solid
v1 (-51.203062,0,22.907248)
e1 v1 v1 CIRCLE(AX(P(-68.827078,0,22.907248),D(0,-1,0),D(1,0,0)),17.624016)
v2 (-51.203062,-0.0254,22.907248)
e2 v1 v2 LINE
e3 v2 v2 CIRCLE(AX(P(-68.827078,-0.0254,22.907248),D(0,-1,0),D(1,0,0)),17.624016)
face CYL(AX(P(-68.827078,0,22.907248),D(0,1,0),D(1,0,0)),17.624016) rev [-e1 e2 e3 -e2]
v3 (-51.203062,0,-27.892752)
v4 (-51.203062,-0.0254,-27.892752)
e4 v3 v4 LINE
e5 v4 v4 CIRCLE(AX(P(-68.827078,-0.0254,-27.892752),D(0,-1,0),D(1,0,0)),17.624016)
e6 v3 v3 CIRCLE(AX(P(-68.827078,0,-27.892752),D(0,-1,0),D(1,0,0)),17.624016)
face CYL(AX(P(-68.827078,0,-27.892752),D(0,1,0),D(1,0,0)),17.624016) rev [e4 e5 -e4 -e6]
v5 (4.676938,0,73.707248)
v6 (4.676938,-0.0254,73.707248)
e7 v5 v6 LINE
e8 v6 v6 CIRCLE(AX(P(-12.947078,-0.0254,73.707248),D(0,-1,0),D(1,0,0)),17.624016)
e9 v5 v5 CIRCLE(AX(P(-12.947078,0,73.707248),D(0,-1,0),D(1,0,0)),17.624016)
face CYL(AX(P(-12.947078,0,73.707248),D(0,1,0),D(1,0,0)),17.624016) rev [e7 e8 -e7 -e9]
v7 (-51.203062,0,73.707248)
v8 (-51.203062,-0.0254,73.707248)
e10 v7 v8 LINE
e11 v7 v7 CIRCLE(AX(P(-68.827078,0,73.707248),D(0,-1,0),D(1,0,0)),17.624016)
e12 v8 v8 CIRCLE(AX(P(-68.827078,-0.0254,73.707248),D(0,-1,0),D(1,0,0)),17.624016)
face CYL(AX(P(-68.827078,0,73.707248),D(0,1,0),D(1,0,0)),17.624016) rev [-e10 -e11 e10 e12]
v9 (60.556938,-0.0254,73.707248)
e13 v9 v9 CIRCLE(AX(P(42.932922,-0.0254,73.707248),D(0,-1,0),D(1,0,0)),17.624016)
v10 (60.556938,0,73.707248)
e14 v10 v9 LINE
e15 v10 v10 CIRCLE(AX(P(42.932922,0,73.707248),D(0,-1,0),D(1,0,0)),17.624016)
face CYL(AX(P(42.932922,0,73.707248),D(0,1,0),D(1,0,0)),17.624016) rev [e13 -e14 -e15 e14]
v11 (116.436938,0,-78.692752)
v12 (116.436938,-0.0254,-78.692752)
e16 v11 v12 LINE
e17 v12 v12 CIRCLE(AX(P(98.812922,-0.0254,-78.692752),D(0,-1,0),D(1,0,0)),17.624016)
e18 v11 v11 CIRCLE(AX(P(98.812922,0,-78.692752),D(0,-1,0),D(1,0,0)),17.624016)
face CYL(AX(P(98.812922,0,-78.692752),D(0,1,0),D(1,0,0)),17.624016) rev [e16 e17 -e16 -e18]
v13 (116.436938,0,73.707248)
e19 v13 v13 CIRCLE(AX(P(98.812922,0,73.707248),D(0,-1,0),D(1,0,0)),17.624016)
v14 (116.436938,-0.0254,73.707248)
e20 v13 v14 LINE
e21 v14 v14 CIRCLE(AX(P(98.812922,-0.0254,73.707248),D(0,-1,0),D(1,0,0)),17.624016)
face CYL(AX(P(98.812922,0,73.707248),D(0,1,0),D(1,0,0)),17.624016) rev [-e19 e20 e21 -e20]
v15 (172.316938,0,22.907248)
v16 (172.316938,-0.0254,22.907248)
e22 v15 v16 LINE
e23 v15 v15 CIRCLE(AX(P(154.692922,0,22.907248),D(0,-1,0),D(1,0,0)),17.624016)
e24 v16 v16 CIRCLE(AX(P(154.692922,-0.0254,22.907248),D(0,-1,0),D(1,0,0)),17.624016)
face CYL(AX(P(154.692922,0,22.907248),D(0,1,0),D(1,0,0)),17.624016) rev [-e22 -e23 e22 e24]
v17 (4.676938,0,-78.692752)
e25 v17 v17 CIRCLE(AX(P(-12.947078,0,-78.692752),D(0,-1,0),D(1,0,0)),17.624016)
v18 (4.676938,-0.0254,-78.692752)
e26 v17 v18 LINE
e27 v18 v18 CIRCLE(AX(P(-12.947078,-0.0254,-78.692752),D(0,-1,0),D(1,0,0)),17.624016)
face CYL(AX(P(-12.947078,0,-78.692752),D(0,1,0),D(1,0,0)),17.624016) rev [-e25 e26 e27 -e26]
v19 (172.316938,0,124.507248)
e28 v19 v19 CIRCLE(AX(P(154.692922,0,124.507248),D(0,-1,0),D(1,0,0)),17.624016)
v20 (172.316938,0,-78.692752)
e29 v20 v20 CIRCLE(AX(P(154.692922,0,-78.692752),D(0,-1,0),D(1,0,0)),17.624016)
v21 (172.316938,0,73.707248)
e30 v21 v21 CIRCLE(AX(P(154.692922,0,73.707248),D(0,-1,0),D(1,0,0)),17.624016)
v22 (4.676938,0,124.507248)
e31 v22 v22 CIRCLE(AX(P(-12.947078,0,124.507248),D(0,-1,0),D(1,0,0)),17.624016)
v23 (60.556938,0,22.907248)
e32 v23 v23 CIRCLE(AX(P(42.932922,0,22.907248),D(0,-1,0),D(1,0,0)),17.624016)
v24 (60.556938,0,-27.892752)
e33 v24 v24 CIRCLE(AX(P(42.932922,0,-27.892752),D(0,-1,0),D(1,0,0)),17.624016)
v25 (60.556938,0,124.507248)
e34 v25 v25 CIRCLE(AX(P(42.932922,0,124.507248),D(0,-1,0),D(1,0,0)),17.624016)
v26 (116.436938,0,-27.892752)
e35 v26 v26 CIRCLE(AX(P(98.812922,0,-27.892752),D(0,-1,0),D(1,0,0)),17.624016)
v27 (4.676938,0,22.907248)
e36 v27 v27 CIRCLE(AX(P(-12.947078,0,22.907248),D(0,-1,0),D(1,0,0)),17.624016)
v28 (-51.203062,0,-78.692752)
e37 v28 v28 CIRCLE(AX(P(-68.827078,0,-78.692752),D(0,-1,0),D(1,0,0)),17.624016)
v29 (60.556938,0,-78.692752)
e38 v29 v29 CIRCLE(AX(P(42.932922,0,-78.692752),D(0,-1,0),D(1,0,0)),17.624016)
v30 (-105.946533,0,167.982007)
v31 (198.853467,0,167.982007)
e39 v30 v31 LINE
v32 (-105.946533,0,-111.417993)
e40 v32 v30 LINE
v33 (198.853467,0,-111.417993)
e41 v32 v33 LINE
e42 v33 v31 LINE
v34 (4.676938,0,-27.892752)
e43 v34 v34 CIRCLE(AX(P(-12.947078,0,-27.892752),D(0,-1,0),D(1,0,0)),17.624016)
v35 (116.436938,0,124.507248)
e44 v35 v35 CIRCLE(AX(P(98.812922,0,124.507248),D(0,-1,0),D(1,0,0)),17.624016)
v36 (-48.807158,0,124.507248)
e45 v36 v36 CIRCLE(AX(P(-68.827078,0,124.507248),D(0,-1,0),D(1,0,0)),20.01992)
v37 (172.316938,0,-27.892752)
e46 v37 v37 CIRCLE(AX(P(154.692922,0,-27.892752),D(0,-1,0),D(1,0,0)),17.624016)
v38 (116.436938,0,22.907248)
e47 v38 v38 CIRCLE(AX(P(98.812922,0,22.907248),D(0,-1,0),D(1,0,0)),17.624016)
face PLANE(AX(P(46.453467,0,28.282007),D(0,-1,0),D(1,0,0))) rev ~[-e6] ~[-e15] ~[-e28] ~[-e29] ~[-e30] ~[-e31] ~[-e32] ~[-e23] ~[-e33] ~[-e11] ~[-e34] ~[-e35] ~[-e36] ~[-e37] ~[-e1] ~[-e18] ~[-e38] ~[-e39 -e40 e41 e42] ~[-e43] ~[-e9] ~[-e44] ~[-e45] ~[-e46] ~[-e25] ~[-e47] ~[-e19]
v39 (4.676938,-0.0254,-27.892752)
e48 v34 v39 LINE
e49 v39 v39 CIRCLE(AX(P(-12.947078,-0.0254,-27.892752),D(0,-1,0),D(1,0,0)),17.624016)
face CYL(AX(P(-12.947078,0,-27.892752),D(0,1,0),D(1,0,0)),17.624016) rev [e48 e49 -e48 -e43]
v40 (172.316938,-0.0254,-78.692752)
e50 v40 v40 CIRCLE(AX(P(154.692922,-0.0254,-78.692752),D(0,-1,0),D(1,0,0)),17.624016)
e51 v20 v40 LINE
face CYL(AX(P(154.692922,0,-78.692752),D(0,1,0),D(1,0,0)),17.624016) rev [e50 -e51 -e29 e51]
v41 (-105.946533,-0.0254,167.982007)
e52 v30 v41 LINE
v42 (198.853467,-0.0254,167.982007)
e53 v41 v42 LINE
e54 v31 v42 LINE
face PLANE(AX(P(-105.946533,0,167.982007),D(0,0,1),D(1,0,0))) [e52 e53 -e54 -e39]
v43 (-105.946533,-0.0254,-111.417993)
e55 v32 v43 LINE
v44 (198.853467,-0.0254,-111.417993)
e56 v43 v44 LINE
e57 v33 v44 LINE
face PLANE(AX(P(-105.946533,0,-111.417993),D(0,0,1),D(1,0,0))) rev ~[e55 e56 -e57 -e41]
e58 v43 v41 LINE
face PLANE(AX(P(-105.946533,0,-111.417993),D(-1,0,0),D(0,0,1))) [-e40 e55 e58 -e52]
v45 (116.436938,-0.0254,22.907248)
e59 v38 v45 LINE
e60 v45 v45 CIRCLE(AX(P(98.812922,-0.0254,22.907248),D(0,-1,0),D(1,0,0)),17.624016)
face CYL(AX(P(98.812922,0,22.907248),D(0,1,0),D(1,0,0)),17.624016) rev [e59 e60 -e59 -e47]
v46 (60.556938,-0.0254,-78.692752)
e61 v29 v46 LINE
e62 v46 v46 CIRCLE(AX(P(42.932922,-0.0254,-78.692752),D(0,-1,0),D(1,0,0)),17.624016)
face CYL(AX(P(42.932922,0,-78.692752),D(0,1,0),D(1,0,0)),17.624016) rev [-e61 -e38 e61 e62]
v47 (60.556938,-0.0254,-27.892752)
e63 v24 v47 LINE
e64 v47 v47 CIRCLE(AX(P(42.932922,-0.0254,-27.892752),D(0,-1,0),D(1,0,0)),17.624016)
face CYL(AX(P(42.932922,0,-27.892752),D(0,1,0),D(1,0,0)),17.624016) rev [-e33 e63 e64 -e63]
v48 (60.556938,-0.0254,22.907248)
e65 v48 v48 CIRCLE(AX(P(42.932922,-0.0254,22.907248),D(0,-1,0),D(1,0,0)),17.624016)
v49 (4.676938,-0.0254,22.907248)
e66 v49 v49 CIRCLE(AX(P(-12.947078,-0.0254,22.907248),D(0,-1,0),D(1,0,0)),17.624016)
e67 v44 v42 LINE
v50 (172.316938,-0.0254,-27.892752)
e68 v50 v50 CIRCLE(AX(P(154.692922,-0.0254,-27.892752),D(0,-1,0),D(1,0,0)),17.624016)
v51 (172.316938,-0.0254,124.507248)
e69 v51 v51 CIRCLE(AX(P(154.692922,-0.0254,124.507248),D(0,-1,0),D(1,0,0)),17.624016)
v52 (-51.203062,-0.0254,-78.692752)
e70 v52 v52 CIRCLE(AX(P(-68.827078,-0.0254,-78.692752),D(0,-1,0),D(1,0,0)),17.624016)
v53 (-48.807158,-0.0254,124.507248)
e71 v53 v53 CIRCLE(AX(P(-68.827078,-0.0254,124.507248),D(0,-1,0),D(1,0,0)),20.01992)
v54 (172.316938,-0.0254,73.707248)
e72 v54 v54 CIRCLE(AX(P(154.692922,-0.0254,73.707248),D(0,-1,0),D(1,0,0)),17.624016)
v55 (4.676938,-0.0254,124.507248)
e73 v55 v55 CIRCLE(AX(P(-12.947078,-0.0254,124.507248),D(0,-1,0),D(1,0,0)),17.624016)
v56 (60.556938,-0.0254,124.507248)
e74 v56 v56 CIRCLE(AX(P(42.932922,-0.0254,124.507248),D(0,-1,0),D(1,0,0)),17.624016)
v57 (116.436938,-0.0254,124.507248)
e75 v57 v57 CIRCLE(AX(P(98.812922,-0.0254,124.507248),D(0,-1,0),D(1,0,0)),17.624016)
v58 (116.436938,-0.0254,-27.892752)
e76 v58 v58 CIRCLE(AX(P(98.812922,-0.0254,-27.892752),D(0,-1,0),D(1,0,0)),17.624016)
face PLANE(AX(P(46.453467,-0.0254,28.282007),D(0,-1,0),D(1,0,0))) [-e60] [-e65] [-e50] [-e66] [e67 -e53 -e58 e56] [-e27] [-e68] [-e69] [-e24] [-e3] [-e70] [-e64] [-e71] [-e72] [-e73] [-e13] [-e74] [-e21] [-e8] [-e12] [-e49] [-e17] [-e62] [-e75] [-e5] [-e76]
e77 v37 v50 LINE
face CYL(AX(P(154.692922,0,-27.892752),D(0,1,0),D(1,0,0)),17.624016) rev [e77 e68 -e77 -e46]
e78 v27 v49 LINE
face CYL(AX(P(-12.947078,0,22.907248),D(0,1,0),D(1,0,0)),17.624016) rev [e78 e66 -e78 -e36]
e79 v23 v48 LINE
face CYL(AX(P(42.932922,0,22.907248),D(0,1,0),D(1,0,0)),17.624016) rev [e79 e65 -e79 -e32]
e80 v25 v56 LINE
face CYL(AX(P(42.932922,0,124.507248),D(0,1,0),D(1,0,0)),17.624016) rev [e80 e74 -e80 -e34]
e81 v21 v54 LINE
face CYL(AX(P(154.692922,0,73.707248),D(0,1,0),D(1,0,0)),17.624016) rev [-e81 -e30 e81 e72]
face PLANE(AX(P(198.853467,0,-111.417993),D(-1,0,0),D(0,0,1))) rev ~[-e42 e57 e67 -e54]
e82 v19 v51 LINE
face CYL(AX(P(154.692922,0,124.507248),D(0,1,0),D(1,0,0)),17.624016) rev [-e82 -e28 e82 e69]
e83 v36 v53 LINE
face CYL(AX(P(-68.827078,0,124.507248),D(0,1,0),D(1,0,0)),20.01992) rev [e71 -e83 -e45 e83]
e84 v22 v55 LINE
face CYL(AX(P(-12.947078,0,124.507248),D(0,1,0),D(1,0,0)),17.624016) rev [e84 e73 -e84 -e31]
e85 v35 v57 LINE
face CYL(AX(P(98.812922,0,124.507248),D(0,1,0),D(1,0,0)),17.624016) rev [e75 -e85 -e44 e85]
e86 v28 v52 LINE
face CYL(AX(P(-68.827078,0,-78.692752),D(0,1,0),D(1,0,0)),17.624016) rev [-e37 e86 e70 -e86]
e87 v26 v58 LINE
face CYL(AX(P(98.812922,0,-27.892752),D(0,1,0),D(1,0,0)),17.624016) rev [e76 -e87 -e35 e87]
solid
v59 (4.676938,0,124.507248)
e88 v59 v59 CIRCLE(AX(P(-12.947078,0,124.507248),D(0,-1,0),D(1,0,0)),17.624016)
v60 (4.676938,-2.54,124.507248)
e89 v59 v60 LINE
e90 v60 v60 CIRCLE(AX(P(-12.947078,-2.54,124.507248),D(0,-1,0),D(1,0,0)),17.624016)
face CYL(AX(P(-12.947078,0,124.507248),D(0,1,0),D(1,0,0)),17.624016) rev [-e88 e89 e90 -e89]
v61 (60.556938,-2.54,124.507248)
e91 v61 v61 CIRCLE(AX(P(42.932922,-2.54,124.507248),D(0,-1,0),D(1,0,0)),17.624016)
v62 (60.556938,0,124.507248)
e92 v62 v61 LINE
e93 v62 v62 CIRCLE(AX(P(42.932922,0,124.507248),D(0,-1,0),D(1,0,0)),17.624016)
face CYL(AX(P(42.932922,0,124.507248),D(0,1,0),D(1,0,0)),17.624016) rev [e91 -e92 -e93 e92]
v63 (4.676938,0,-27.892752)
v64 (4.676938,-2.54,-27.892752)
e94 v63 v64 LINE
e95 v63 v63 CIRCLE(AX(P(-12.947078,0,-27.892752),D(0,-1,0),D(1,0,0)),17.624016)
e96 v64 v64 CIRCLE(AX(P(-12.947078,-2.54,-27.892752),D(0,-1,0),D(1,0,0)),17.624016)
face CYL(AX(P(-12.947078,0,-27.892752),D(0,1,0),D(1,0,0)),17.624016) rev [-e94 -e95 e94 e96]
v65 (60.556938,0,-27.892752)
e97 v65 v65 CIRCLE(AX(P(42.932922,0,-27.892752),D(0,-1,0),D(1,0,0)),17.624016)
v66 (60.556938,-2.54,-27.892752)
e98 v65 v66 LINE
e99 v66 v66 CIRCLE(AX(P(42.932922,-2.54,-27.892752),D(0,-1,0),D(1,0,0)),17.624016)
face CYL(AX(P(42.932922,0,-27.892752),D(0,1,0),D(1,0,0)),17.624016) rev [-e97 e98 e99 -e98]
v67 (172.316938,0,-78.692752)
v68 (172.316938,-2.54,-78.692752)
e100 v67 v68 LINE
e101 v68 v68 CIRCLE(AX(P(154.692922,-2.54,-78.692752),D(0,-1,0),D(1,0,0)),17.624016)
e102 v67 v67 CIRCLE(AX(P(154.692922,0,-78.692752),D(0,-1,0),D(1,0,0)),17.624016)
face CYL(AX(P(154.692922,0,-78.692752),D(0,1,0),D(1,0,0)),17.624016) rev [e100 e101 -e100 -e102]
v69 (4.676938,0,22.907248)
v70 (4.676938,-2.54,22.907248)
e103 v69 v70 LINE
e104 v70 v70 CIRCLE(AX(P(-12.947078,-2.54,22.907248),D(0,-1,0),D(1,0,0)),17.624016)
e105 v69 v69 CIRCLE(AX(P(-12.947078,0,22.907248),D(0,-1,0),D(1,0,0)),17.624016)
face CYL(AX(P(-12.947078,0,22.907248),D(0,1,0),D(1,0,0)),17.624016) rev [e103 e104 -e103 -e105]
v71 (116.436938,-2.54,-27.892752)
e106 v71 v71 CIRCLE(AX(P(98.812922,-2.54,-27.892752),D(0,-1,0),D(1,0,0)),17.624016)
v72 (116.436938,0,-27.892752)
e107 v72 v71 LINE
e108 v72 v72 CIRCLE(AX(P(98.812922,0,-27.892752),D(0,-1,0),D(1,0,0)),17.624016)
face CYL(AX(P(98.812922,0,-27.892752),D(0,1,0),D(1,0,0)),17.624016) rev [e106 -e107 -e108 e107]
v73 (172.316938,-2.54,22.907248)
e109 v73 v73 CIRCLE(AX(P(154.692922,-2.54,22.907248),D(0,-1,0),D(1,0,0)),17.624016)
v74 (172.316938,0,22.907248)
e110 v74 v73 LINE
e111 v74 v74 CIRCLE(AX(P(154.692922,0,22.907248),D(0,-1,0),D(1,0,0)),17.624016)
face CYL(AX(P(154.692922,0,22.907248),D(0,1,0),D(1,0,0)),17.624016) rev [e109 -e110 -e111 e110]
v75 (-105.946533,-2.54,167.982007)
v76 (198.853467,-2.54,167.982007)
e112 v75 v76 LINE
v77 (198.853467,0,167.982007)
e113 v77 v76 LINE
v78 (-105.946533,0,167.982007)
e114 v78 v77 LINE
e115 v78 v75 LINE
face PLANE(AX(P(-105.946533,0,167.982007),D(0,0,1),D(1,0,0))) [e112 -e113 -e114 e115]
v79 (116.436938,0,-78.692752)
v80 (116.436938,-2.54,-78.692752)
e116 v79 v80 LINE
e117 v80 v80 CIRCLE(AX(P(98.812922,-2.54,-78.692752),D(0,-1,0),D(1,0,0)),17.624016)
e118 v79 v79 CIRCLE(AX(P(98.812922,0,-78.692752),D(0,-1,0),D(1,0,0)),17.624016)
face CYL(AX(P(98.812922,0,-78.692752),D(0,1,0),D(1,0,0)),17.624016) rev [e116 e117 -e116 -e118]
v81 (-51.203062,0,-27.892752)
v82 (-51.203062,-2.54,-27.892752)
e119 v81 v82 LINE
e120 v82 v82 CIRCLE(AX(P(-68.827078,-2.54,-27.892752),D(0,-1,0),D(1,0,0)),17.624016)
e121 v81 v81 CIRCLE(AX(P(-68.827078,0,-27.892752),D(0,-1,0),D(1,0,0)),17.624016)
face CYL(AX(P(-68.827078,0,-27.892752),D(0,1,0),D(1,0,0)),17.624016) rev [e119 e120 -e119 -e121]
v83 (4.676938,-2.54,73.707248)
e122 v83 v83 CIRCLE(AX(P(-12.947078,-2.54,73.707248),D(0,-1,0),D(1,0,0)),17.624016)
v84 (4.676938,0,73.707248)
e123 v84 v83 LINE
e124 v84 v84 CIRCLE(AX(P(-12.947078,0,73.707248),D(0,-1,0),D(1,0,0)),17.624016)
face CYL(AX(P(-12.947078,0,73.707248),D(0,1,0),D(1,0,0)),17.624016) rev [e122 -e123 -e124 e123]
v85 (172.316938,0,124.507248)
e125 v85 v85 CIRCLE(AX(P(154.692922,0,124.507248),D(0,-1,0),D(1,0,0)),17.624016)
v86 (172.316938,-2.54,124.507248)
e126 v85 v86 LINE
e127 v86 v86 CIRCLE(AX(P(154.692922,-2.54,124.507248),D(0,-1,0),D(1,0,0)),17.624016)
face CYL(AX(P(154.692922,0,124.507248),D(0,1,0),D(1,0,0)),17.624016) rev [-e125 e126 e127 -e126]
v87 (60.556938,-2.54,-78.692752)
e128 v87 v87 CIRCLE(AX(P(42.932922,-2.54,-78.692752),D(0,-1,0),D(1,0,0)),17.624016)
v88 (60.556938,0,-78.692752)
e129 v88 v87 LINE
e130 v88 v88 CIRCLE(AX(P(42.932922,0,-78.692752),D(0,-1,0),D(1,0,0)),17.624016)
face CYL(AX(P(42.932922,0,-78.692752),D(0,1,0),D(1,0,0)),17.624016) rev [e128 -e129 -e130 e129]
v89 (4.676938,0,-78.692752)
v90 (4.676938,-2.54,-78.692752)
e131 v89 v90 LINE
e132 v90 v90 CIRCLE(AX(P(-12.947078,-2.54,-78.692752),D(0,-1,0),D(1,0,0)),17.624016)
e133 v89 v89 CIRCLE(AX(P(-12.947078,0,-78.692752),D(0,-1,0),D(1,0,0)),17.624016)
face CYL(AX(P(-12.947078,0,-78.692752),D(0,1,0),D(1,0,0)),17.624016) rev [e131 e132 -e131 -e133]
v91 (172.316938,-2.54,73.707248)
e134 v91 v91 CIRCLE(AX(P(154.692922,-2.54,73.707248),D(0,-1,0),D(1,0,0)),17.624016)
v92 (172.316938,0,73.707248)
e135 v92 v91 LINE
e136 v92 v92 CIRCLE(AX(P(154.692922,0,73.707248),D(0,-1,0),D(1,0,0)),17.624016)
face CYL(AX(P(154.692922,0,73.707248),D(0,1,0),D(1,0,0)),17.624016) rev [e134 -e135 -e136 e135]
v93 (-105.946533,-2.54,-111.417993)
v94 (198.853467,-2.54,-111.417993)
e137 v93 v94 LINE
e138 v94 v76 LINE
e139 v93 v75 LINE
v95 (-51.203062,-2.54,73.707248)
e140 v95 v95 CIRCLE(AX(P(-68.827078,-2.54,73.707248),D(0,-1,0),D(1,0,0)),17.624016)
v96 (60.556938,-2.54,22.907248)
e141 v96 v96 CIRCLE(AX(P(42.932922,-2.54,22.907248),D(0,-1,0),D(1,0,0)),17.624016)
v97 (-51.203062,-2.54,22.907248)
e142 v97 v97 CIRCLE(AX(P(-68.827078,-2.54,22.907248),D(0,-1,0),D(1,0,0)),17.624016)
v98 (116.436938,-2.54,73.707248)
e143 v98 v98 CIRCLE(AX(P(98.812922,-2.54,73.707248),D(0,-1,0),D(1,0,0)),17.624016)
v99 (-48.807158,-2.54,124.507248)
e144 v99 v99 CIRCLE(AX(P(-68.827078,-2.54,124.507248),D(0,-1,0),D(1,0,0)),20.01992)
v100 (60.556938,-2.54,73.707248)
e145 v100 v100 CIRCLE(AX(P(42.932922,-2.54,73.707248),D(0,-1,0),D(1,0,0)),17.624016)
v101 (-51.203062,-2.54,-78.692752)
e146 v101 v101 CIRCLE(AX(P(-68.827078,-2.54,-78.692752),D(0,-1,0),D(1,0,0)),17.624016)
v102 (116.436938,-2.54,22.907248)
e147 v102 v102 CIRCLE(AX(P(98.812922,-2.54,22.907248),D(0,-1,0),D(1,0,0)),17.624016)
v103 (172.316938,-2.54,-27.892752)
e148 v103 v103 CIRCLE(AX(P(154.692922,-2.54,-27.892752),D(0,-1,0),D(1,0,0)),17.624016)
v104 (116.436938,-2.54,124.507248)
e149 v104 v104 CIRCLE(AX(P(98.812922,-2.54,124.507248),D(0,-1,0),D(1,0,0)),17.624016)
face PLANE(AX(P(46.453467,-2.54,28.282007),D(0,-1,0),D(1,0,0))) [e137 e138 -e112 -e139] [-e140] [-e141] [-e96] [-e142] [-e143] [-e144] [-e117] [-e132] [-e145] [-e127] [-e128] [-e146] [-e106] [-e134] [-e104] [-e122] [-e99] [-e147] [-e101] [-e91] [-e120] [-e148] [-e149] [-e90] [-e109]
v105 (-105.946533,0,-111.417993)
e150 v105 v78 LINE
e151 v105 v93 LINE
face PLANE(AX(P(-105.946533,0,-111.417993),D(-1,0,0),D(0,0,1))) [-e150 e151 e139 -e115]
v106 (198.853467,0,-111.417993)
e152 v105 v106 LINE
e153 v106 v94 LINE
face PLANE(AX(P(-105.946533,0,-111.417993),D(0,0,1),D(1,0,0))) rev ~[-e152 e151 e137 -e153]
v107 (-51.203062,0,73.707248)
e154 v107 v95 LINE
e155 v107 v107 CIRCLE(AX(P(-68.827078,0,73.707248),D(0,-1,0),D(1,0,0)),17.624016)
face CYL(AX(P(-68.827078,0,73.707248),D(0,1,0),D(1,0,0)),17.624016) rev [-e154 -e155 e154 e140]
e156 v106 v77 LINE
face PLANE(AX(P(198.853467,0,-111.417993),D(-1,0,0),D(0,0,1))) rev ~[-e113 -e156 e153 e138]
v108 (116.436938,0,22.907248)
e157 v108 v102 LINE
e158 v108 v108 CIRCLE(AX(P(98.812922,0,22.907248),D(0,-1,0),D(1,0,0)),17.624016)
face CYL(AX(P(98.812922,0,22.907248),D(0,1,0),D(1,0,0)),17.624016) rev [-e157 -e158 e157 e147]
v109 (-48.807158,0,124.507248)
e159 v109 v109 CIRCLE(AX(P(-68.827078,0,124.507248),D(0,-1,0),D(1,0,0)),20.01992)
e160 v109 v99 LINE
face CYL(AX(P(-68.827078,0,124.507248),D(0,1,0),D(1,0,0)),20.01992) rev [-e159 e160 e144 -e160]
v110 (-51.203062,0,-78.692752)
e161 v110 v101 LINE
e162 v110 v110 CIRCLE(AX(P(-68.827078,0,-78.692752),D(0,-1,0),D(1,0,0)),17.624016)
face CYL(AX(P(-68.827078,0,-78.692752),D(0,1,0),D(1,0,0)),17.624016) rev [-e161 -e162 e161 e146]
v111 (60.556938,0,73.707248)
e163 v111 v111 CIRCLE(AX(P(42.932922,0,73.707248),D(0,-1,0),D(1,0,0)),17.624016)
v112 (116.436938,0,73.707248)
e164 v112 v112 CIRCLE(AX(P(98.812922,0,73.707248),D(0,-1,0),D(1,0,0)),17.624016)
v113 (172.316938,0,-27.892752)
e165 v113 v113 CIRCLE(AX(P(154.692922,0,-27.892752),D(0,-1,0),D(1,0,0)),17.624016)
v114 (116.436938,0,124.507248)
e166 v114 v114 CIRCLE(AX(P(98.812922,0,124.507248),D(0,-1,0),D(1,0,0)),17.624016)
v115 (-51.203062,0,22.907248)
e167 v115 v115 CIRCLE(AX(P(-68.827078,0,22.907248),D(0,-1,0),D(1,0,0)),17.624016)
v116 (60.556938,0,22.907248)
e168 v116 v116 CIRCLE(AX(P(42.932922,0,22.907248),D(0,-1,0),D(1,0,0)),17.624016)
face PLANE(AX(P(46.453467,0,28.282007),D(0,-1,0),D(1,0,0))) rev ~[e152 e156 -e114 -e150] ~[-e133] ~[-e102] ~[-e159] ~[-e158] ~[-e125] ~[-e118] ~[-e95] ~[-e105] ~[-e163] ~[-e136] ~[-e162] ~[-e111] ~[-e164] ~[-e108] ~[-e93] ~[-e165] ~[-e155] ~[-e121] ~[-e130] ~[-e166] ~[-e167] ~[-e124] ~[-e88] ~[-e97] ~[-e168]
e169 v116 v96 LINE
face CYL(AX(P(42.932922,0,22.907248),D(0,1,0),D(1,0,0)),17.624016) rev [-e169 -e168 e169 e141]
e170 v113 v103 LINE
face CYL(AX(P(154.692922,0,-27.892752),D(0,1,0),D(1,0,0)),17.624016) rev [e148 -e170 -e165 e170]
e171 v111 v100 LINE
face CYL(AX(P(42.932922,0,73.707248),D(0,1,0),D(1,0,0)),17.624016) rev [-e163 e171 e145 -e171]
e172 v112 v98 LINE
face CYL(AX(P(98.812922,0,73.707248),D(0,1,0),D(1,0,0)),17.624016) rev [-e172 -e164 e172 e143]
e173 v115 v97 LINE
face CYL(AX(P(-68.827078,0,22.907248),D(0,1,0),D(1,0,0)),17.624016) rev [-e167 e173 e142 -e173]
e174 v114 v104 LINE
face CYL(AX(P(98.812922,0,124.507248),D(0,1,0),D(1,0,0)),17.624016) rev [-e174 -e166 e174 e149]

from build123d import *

# Parameters (mm, degrees)
F0_W     = 304.8
F0_H     = 279.4
F0_R     = 17.624016
F0_R_2   = 20.01992
F1_DEPTH = 2.54
F2_DEPTH = 0.0254


with BuildPart() as f1:
    # F0 (on Front) → F1 (new body)
    with BuildSketch(Plane.XZ):
        with Locations((46.453467, 28.282007)):
            Rectangle(F0_W, F0_H)
        with Locations((-68.827078, -78.692752)):
            Circle(F0_R, mode=Mode.SUBTRACT)
        with Locations((-12.947078, -78.692752)):
            Circle(F0_R, mode=Mode.SUBTRACT)
        with Locations((42.932922, -78.692752)):
            Circle(F0_R, mode=Mode.SUBTRACT)
        with Locations((-68.827078, -27.892752)):
            Circle(F0_R, mode=Mode.SUBTRACT)
        with Locations((-68.827078, 22.907248)):
            Circle(F0_R, mode=Mode.SUBTRACT)
        with Locations((-12.947078, -27.892752)):
            Circle(F0_R, mode=Mode.SUBTRACT)
        with Locations((42.932922, -27.892752)):
            Circle(F0_R, mode=Mode.SUBTRACT)
        with Locations((-12.947078, 22.907248)):
            Circle(F0_R, mode=Mode.SUBTRACT)
        with Locations((42.932922, 22.907248)):
            Circle(F0_R, mode=Mode.SUBTRACT)
        with Locations((98.812922, -78.692752)):
            Circle(F0_R, mode=Mode.SUBTRACT)
        with Locations((154.692922, -78.692752)):
            Circle(F0_R, mode=Mode.SUBTRACT)
        with Locations((98.812922, -27.892752)):
            Circle(F0_R, mode=Mode.SUBTRACT)
        with Locations((98.812922, 22.907248)):
            Circle(F0_R, mode=Mode.SUBTRACT)
        with Locations((154.692922, -27.892752)):
            Circle(F0_R, mode=Mode.SUBTRACT)
        with Locations((154.692922, 22.907248)):
            Circle(F0_R, mode=Mode.SUBTRACT)
        with Locations((-68.827078, 73.707248)):
            Circle(F0_R, mode=Mode.SUBTRACT)
        with Locations((-12.947078, 73.707248)):
            Circle(F0_R, mode=Mode.SUBTRACT)
        with Locations((42.932922, 73.707248)):
            Circle(F0_R, mode=Mode.SUBTRACT)
        with Locations((-68.827078, 124.507248)):
            Circle(F0_R_2, mode=Mode.SUBTRACT)
        with Locations((-12.947078, 124.507248)):
            Circle(F0_R, mode=Mode.SUBTRACT)
        with Locations((42.932922, 124.507248)):
            Circle(F0_R, mode=Mode.SUBTRACT)
        with Locations((98.812922, 73.707248)):
            Circle(F0_R, mode=Mode.SUBTRACT)
        with Locations((154.692922, 73.707248)):
            Circle(F0_R, mode=Mode.SUBTRACT)
        with Locations((98.812922, 124.507248)):
            Circle(F0_R, mode=Mode.SUBTRACT)
        with Locations((154.692922, 124.507248)):
            Circle(F0_R, mode=Mode.SUBTRACT)
    extrude(amount=F1_DEPTH)


with BuildPart() as f2:
    # F0 (on Front) → F2 (new body)
    with BuildSketch(Plane.XZ):
        with Locations((46.453467, 28.282007)):
            Rectangle(F0_W, F0_H)
        with Locations((-68.827078, -78.692752)):
            Circle(F0_R, mode=Mode.SUBTRACT)
        with Locations((-12.947078, -78.692752)):
            Circle(F0_R, mode=Mode.SUBTRACT)
        with Locations((42.932922, -78.692752)):
            Circle(F0_R, mode=Mode.SUBTRACT)
        with Locations((-68.827078, -27.892752)):
            Circle(F0_R, mode=Mode.SUBTRACT)
        with Locations((-68.827078, 22.907248)):
            Circle(F0_R, mode=Mode.SUBTRACT)
        with Locations((-12.947078, -27.892752)):
            Circle(F0_R, mode=Mode.SUBTRACT)
        with Locations((42.932922, -27.892752)):
            Circle(F0_R, mode=Mode.SUBTRACT)
        with Locations((-12.947078, 22.907248)):
            Circle(F0_R, mode=Mode.SUBTRACT)
        with Locations((42.932922, 22.907248)):
            Circle(F0_R, mode=Mode.SUBTRACT)
        with Locations((98.812922, -78.692752)):
            Circle(F0_R, mode=Mode.SUBTRACT)
        with Locations((154.692922, -78.692752)):
            Circle(F0_R, mode=Mode.SUBTRACT)
        with Locations((98.812922, -27.892752)):
            Circle(F0_R, mode=Mode.SUBTRACT)
        with Locations((98.812922, 22.907248)):
            Circle(F0_R, mode=Mode.SUBTRACT)
        with Locations((154.692922, -27.892752)):
            Circle(F0_R, mode=Mode.SUBTRACT)
        with Locations((154.692922, 22.907248)):
            Circle(F0_R, mode=Mode.SUBTRACT)
        with Locations((-68.827078, 73.707248)):
            Circle(F0_R, mode=Mode.SUBTRACT)
        with Locations((-12.947078, 73.707248)):
            Circle(F0_R, mode=Mode.SUBTRACT)
        with Locations((42.932922, 73.707248)):
            Circle(F0_R, mode=Mode.SUBTRACT)
        with Locations((-68.827078, 124.507248)):
            Circle(F0_R_2, mode=Mode.SUBTRACT)
        with Locations((-12.947078, 124.507248)):
            Circle(F0_R, mode=Mode.SUBTRACT)
        with Locations((42.932922, 124.507248)):
            Circle(F0_R, mode=Mode.SUBTRACT)
        with Locations((98.812922, 73.707248)):
            Circle(F0_R, mode=Mode.SUBTRACT)
        with Locations((154.692922, 73.707248)):
            Circle(F0_R, mode=Mode.SUBTRACT)
        with Locations((98.812922, 124.507248)):
            Circle(F0_R, mode=Mode.SUBTRACT)
        with Locations((154.692922, 124.507248)):
            Circle(F0_R, mode=Mode.SUBTRACT)
    extrude(amount=F2_DEPTH)


solid = Compound([f1.part, f2.part])
